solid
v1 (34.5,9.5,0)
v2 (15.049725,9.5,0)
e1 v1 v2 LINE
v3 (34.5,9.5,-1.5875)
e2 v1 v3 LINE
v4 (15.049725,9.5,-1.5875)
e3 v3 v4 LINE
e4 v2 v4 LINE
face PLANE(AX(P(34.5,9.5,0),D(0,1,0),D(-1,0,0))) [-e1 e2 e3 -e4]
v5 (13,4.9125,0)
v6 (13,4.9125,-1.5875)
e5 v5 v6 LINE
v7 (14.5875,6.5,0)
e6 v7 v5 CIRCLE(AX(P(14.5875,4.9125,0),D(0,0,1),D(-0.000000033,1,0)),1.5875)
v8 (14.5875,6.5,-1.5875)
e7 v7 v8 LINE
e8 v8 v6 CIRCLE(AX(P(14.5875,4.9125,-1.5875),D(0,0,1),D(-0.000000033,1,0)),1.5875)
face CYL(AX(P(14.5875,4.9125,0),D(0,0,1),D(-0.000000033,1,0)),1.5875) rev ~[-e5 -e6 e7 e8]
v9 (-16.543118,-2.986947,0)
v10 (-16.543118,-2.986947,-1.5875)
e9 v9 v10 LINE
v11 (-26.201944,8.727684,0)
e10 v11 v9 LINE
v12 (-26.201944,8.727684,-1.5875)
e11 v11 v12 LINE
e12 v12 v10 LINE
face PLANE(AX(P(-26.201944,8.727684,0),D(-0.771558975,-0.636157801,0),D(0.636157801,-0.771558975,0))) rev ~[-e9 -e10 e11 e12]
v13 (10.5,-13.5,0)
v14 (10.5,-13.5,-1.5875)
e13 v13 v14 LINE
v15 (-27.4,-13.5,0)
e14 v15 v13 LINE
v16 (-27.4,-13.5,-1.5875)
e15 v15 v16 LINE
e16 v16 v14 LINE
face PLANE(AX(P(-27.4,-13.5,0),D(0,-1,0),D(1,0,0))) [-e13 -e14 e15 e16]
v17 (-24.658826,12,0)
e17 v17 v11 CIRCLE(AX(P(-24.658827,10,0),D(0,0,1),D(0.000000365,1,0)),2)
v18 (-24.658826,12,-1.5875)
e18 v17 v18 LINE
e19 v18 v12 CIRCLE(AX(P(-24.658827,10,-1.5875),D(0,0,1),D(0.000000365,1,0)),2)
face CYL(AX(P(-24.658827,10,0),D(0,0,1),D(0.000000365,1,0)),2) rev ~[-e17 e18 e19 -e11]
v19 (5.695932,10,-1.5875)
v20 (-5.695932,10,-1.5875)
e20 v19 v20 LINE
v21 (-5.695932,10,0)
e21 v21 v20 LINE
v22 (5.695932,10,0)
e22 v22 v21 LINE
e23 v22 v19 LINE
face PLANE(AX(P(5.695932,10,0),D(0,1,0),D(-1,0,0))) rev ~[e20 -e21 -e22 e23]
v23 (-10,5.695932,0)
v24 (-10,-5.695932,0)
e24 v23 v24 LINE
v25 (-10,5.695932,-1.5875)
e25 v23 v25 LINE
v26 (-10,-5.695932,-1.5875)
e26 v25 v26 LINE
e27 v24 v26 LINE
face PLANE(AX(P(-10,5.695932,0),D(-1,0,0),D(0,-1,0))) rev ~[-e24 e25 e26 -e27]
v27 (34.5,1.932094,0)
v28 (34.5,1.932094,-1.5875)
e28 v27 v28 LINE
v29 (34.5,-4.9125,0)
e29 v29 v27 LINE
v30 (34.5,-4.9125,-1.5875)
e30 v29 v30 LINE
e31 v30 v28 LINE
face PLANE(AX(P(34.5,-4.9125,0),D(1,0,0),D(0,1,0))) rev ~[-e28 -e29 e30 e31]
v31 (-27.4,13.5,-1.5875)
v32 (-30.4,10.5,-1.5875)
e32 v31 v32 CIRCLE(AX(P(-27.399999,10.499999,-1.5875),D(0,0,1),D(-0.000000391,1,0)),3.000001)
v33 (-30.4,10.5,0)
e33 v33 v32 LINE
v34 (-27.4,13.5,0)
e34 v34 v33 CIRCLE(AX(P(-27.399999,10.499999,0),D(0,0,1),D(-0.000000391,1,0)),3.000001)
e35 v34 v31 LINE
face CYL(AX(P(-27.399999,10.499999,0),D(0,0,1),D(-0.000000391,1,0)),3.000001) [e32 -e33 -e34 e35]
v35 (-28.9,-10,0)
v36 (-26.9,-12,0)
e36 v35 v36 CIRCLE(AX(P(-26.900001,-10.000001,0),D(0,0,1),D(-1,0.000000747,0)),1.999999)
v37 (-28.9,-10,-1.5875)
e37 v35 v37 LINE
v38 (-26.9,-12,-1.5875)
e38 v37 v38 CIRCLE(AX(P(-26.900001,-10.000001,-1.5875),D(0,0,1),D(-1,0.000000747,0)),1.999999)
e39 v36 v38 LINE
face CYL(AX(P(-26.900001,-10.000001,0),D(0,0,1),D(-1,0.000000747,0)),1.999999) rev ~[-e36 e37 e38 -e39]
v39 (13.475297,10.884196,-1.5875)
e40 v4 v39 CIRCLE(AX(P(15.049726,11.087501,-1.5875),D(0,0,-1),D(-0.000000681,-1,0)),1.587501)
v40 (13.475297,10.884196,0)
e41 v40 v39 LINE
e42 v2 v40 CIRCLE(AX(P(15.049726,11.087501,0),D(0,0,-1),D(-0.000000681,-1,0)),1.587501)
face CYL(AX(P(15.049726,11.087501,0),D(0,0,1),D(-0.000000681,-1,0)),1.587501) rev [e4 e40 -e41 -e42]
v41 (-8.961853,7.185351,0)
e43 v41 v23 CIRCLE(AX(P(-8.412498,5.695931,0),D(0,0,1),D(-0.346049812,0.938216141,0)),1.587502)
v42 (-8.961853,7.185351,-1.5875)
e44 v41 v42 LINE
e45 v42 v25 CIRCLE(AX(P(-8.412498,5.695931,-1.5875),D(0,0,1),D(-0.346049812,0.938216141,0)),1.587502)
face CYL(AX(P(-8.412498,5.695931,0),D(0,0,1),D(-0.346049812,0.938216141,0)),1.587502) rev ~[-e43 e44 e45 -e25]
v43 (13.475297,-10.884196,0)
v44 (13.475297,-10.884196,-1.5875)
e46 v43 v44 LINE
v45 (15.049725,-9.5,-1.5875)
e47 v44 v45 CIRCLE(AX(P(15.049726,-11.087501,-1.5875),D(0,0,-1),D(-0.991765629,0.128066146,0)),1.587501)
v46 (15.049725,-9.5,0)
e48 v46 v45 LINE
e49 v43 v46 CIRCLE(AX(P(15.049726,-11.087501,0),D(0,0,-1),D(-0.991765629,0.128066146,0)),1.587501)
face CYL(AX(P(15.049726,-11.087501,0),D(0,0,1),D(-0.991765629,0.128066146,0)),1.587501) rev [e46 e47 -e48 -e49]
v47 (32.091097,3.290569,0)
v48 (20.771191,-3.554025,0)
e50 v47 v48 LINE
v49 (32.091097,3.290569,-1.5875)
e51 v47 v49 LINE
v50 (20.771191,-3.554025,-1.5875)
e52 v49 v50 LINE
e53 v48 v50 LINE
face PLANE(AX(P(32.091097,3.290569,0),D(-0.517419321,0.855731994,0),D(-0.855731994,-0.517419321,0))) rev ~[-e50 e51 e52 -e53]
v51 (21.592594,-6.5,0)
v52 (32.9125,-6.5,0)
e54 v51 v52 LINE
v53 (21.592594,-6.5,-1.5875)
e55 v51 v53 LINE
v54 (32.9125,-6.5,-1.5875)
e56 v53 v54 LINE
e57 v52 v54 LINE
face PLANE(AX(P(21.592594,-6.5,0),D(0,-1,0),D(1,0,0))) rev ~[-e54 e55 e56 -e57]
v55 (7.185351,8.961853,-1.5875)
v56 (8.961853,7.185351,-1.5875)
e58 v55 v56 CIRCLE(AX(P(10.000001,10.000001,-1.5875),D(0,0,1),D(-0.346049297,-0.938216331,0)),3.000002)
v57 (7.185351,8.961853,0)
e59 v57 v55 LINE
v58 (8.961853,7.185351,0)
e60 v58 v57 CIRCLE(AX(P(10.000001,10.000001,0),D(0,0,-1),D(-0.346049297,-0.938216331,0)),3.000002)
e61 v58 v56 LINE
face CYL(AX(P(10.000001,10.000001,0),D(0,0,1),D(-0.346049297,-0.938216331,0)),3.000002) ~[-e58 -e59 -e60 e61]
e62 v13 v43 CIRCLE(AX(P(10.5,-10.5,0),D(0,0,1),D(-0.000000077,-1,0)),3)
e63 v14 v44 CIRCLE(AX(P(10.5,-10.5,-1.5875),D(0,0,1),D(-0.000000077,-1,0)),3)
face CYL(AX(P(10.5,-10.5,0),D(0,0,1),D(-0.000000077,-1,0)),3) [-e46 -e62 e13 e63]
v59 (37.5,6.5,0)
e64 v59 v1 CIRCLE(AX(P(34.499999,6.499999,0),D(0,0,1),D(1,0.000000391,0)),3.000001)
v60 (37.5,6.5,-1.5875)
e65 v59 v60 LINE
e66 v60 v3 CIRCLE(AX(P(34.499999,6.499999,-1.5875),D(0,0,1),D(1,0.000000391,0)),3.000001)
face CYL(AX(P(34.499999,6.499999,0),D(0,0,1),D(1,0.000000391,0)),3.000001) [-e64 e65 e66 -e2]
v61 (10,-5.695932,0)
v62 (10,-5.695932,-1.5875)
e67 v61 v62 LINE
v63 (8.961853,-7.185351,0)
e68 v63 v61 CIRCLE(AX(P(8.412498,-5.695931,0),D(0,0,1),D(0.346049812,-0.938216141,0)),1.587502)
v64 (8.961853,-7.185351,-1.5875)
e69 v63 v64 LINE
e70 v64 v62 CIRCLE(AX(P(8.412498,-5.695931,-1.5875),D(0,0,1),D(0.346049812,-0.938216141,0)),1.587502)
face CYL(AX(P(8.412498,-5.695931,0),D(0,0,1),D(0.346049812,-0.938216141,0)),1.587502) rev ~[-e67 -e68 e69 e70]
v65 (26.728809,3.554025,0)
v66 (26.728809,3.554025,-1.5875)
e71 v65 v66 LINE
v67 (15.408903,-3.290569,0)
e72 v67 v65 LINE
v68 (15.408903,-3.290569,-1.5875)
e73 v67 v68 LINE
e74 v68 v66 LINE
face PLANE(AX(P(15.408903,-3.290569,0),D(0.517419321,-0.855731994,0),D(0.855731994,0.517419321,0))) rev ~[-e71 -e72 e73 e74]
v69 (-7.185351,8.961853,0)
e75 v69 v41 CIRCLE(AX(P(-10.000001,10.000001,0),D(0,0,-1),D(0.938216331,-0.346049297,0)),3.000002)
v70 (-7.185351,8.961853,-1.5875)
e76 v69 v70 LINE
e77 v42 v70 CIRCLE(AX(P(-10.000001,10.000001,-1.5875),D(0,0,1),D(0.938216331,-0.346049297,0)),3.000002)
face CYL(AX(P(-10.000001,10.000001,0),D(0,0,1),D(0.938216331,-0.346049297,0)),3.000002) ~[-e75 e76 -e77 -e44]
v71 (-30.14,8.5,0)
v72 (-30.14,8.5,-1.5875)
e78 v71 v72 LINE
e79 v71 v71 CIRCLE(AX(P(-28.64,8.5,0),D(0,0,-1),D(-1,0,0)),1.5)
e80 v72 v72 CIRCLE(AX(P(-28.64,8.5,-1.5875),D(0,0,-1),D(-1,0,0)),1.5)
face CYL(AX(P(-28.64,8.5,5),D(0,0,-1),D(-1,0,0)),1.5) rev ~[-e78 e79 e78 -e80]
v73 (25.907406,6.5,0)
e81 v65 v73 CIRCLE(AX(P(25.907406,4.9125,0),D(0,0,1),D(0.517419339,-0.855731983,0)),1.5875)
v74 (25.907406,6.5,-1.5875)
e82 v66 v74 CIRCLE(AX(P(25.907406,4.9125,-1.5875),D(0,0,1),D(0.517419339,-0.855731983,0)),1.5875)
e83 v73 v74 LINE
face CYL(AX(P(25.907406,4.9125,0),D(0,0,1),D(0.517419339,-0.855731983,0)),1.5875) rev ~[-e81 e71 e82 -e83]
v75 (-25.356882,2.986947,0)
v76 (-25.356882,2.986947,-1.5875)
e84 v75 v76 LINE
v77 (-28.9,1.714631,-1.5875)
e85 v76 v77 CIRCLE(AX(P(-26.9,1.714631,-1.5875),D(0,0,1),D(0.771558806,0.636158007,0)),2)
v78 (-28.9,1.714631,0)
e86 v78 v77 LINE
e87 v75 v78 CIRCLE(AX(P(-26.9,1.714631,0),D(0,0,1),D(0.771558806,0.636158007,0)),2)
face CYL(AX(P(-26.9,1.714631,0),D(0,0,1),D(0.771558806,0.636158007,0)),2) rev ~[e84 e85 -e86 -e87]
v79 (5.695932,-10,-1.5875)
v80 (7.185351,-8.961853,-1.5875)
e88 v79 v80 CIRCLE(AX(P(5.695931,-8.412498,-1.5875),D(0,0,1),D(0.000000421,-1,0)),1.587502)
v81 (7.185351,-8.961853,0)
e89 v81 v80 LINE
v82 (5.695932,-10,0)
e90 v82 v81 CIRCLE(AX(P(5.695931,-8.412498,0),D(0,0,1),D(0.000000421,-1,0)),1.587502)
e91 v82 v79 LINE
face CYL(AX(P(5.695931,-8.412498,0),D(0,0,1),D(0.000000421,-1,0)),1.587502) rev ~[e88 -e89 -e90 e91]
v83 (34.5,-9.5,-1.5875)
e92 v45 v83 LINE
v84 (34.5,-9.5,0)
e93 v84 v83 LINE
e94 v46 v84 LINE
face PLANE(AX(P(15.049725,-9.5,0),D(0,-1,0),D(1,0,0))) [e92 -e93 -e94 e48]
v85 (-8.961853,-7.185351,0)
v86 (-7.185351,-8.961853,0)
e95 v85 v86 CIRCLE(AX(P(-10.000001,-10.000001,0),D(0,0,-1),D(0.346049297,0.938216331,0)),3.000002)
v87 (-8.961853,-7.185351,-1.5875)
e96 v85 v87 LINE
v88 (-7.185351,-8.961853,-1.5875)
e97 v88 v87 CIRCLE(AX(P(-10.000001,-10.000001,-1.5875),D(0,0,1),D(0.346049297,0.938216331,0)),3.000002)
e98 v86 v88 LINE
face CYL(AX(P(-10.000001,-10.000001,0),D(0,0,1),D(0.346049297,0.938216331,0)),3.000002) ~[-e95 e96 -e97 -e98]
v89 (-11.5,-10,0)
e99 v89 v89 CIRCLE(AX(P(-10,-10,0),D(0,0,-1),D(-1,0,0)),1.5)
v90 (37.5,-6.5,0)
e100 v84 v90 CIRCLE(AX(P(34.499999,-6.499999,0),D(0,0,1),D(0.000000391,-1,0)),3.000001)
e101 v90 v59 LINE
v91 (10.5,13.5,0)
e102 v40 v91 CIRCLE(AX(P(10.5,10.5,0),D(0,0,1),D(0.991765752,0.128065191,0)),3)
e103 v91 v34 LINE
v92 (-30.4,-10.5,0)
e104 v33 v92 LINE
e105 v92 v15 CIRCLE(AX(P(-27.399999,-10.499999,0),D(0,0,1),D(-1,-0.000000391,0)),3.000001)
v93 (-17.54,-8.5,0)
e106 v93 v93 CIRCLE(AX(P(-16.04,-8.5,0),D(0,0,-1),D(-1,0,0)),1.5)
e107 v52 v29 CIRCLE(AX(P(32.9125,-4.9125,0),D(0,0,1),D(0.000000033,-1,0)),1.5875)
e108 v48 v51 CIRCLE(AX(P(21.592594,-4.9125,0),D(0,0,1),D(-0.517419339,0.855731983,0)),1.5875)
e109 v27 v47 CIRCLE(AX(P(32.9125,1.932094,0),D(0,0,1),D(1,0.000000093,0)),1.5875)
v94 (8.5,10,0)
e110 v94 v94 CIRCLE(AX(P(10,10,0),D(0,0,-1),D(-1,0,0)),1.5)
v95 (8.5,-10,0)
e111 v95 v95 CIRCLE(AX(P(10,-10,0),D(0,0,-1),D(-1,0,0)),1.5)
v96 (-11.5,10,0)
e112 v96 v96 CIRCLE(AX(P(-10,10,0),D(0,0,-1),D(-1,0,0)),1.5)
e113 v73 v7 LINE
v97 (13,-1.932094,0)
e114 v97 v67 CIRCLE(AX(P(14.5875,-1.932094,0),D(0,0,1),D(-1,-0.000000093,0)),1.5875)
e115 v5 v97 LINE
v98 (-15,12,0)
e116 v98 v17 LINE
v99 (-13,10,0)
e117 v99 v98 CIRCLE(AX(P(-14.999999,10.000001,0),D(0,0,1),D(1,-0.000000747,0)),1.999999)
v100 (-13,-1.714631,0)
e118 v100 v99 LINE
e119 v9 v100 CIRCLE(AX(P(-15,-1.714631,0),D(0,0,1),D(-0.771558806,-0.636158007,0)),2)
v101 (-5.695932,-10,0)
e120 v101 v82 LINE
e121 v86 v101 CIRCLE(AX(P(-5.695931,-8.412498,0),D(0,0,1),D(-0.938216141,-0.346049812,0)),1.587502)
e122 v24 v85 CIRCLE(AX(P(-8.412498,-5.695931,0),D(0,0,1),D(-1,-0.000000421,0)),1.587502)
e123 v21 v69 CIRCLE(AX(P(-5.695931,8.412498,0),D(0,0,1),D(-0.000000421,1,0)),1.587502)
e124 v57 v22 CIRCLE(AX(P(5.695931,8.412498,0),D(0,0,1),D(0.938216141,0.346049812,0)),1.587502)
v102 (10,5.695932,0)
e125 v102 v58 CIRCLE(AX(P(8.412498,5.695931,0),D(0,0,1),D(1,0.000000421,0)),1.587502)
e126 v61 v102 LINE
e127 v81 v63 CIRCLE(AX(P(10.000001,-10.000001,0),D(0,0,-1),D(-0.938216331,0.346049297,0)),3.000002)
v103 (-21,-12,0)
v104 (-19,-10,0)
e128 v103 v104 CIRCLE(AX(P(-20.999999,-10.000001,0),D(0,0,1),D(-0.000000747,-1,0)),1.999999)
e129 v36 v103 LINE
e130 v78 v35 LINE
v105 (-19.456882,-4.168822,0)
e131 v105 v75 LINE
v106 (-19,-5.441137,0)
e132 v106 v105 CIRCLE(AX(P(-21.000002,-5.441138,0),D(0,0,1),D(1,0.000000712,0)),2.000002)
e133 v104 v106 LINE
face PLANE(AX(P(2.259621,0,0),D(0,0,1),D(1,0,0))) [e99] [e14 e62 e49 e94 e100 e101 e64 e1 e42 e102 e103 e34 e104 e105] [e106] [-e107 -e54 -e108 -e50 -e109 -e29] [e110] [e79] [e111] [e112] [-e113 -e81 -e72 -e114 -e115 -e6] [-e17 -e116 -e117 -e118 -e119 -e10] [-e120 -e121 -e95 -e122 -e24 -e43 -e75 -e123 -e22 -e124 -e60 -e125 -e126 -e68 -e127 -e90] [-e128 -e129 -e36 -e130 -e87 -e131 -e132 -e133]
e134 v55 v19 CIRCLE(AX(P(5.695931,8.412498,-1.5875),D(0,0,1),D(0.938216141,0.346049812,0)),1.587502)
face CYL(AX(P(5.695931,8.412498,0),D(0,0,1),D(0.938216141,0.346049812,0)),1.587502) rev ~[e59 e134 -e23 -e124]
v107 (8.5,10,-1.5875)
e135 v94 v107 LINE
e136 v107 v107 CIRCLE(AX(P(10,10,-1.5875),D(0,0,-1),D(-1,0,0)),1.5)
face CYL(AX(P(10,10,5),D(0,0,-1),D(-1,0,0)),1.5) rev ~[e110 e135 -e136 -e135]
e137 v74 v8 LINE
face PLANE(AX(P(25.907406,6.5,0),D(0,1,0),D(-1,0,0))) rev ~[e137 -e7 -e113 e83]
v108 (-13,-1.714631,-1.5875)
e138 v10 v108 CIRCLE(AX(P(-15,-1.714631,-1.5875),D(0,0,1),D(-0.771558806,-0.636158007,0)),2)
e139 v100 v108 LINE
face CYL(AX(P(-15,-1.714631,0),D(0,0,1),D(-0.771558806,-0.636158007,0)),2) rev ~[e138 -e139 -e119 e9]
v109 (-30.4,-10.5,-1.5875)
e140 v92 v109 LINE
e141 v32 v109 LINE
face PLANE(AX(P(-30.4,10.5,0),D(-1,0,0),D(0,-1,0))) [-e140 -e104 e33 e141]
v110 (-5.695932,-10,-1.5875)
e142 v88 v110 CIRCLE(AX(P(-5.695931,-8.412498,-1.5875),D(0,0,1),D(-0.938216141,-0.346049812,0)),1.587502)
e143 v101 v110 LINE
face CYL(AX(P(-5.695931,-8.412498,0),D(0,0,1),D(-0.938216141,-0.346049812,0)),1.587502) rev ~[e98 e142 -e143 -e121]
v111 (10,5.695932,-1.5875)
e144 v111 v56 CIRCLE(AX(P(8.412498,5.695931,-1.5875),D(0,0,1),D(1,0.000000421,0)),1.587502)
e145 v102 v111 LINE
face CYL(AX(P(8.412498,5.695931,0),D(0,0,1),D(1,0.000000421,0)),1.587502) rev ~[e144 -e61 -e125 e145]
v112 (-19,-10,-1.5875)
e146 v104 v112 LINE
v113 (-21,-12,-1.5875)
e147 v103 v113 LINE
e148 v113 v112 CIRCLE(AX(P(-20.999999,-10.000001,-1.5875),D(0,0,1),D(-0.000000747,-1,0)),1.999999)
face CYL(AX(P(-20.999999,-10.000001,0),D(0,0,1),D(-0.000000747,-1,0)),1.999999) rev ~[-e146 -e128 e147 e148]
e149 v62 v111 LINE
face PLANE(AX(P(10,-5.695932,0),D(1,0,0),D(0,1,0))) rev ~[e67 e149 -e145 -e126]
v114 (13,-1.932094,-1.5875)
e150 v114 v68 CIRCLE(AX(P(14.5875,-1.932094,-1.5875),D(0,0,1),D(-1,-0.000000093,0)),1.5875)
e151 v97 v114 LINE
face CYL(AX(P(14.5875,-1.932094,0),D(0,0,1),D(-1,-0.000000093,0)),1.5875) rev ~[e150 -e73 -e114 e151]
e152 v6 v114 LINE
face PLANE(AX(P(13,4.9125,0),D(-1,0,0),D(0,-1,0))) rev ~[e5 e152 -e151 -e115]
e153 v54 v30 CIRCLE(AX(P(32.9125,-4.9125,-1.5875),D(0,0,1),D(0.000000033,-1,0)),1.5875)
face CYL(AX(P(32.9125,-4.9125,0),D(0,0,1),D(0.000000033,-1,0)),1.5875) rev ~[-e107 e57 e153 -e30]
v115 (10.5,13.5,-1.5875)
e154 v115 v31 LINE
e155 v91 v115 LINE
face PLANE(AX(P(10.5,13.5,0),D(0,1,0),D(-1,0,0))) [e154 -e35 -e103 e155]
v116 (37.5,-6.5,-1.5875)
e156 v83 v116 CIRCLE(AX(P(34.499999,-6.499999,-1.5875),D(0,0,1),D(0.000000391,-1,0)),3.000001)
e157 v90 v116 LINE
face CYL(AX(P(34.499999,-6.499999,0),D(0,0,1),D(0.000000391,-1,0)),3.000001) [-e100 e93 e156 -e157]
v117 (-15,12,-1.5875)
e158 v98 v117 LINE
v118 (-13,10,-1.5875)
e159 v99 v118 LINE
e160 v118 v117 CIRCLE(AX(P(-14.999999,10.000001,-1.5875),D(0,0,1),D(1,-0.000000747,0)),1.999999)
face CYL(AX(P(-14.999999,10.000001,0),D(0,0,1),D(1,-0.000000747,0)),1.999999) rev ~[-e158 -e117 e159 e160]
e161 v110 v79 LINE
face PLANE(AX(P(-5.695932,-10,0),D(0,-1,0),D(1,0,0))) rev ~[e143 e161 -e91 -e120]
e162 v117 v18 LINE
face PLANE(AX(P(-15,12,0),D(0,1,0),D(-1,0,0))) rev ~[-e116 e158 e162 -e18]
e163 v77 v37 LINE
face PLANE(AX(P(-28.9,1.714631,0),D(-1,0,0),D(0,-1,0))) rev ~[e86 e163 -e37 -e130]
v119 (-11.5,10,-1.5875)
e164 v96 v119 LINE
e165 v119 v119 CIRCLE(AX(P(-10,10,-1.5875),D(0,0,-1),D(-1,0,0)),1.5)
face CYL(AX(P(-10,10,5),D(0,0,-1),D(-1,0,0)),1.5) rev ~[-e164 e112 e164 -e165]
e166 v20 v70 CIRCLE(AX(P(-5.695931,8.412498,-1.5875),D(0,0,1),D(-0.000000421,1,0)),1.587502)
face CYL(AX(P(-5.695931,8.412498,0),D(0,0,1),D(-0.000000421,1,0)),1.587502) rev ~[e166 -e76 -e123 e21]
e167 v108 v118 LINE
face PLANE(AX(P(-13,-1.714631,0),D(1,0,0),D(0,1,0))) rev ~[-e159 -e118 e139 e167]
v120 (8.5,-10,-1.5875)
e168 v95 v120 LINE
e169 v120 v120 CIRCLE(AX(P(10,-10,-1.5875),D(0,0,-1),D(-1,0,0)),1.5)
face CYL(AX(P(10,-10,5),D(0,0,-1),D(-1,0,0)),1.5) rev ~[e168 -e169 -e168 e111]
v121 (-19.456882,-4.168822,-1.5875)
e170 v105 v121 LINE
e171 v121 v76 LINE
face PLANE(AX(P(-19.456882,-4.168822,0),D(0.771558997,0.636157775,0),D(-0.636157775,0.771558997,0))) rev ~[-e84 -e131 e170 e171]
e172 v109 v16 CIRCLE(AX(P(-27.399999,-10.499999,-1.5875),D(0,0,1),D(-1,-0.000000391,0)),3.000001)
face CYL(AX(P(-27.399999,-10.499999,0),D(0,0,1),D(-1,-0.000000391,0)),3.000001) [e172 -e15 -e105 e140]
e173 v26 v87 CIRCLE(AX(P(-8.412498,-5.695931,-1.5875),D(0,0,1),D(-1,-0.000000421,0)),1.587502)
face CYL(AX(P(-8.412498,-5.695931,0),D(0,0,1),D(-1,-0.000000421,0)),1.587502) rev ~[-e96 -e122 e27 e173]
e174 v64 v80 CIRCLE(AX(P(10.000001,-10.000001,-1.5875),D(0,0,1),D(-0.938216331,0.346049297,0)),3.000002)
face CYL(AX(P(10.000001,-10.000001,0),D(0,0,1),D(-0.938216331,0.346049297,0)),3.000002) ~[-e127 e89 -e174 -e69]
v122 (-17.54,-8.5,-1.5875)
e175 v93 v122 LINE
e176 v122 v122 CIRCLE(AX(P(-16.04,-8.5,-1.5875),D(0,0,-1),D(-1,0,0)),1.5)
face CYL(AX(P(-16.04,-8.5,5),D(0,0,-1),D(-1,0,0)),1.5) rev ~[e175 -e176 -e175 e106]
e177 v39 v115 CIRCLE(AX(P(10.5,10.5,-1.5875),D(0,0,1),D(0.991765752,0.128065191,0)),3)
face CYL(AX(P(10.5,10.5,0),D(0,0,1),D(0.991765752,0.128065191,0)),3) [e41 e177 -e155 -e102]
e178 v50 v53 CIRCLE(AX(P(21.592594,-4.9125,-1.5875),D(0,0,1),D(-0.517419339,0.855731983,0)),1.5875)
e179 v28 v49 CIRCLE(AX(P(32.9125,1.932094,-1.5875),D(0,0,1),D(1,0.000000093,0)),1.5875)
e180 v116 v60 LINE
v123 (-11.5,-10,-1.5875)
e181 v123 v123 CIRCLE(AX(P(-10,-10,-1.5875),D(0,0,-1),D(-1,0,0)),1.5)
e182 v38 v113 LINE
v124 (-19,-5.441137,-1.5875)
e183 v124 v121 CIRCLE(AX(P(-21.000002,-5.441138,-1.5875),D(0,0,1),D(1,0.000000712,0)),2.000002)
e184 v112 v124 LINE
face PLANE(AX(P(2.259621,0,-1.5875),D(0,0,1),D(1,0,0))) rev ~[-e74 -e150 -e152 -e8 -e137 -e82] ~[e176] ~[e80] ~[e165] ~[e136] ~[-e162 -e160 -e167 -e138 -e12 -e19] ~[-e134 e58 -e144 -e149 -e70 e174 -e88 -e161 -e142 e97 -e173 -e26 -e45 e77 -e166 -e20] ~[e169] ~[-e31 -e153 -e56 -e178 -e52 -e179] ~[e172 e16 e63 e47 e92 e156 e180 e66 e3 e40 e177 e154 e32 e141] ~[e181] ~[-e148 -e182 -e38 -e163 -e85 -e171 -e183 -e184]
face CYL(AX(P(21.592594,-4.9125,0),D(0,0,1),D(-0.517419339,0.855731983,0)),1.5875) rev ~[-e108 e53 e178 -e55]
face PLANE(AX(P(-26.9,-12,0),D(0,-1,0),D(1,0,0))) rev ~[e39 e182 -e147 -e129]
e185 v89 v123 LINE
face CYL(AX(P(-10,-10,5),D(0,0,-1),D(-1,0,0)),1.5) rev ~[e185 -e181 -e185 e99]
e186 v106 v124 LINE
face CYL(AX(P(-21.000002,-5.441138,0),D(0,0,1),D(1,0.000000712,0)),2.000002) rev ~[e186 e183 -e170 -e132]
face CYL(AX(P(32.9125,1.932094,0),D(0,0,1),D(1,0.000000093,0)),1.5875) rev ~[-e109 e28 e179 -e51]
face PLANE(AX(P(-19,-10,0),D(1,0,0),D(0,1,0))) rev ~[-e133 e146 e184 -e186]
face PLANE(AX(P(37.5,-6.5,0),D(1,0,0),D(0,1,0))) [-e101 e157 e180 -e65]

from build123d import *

# Parameters (mm, degrees)
F1_DEPTH = 1.5875
F2_D     = 3
F2_DEPTH = 5
F3_D     = 3
F3_DEPTH = 5
F5_DEPTH = 25
F7_DEPTH = 25
F9_DEPTH = 25


with BuildPart() as f1:
    # F0 (on Top) → F1 (new body)
    with BuildSketch(Plane.XY):
        with BuildLine():
            Line((10.5, 13.5), (-13.5, 13.5))
            Line((-13.5, 13.5), (-27.4, 13.5))
            ThreePointArc((-27.4, 13.5), (-29.52132, 12.62132), (-30.4, 10.5))
            Line((-30.4, 10.5), (-30.4, -10.5))
            ThreePointArc((-30.4, -10.5), (-29.52132, -12.62132), (-27.4, -13.5))
            Line((-27.4, -13.5), (-13.5, -13.5))
            Line((-13.5, -13.5), (10.5, -13.5))
            ThreePointArc((10.5, -13.5), (12.480835, -12.753063), (13.475297, -10.884196))
            ThreePointArc((13.475297, -10.884196), (14.001534, -9.895254), (15.049725, -9.5))
            Line((15.049725, -9.5), (34.5, -9.5))
            ThreePointArc((34.5, -9.5), (36.62132, -8.62132), (37.5, -6.5))
            Line((37.5, -6.5), (37.5, 6.5))
            ThreePointArc((37.5, 6.5), (36.62132, 8.62132), (34.5, 9.5))
            Line((34.5, 9.5), (15.049725, 9.5))
            ThreePointArc((15.049725, 9.5), (14.001534, 9.895254), (13.475297, 10.884196))
            ThreePointArc((13.475297, 10.884196), (12.480835, 12.753063), (10.5, 13.5))
        make_face()
    extrude(amount=-F1_DEPTH)

    # F2
    with Locations(Plane.XY):
        with Locations((-10, 10), (10, 10), (10, -10), (-10, -10)):
            Hole(F2_D / 2, depth=F2_DEPTH)

    # F3
    with Locations(Plane.XY):
        with Locations((-28.64, 8.5), (-16.04, -8.5)):
            Hole(F3_D / 2, depth=F3_DEPTH)

    # F4 (on face) → F5 (cut)
    with BuildSketch(Plane.XY):
        with BuildLine():
            Line((5.695932, 10), (-5.695932, 10))
            ThreePointArc((-5.695932, 10), (-6.603693, 9.714854), (-7.185351, 8.961853))
            ThreePointArc((-7.185351, 8.961853), (-7.87868, 7.87868), (-8.961853, 7.185351))
            ThreePointArc((-8.961853, 7.185351), (-9.714854, 6.603693), (-10, 5.695932))
            Line((-10, 5.695932), (-10, -5.695932))
            ThreePointArc((-10, -5.695932), (-9.714854, -6.603693), (-8.961853, -7.185351))
            ThreePointArc((-8.961853, -7.185351), (-7.87868, -7.87868), (-7.185351, -8.961853))
            ThreePointArc((-7.185351, -8.961853), (-6.603693, -9.714854), (-5.695932, -10))
            Line((-5.695932, -10), (5.695932, -10))
            ThreePointArc((5.695932, -10), (6.603693, -9.714854), (7.185351, -8.961853))
            ThreePointArc((7.185351, -8.961853), (7.87868, -7.87868), (8.961853, -7.185351))
            ThreePointArc((8.961853, -7.185351), (9.714854, -6.603693), (10, -5.695932))
            Line((10, -5.695932), (10, 5.695932))
            ThreePointArc((10, 5.695932), (9.714854, 6.603693), (8.961853, 7.185351))
            ThreePointArc((8.961853, 7.185351), (7.87868, 7.87868), (7.185351, 8.961853))
            ThreePointArc((7.185351, 8.961853), (6.603693, 9.714854), (5.695932, 10))
        make_face()
    extrude(amount=-F5_DEPTH, mode=Mode.SUBTRACT)

    # F6 (on face) → F7 (cut)
    with BuildSketch(Plane.XY):
        with BuildLine():
            Line((-15, 12), (-24.658826, 12))
            ThreePointArc((-24.658826, 12), (-26.467781, 10.853044), (-26.201944, 8.727684))
            Line((-26.201944, 8.727684), (-16.543118, -2.986947))
            ThreePointArc((-16.543118, -2.986947), (-14.324069, -3.596948), (-13, -1.714631))
            Line((-13, -1.714631), (-13, 10))
            ThreePointArc((-13, 10), (-13.585786, 11.414214), (-15, 12))
        make_face()
        with BuildLine():
            Line((-19.456882, -4.168822), (-25.356882, 2.986947))
            ThreePointArc((-25.356882, 2.986947), (-27.575931, 3.596948), (-28.9, 1.714631))
            Line((-28.9, 1.714631), (-28.9, -10))
            ThreePointArc((-28.9, -10), (-28.314214, -11.414214), (-26.9, -12))
            Line((-26.9, -12), (-21, -12))
            ThreePointArc((-21, -12), (-19.585786, -11.414214), (-19, -10))
            Line((-19, -10), (-19, -5.441137))
            ThreePointArc((-19, -5.441137), (-19.117683, -4.765207), (-19.456882, -4.168822))
        make_face()
    extrude(amount=-F7_DEPTH, mode=Mode.SUBTRACT)

    # F8 (on face) → F9 (cut)
    with BuildSketch(Plane.XY):
        with BuildLine():
            ThreePointArc((26.728809, 3.554025), (27.436578, 5.338867), (25.907406, 6.5))
            Line((25.907406, 6.5), (14.5875, 6.5))
            ThreePointArc((14.5875, 6.5), (13.464968, 6.035032), (13, 4.9125))
            Line((13, 4.9125), (13, -1.932094))
            ThreePointArc((13, -1.932094), (13.807699, -3.314869), (15.408903, -3.290569))
            Line((15.408903, -3.290569), (26.728809, 3.554025))
        make_face()
        with BuildLine():
            Line((21.592594, -6.5), (32.9125, -6.5))
            ThreePointArc((32.9125, -6.5), (34.035032, -6.035032), (34.5, -4.9125))
            Line((34.5, -4.9125), (34.5, 1.932094))
            ThreePointArc((34.5, 1.932094), (33.692301, 3.314869), (32.091097, 3.290569))
            Line((32.091097, 3.290569), (20.771191, -3.554025))
            ThreePointArc((20.771191, -3.554025), (20.063422, -5.338867), (21.592594, -6.5))
        make_face()
    extrude(amount=-F9_DEPTH, mode=Mode.SUBTRACT)


solid = f1.part
